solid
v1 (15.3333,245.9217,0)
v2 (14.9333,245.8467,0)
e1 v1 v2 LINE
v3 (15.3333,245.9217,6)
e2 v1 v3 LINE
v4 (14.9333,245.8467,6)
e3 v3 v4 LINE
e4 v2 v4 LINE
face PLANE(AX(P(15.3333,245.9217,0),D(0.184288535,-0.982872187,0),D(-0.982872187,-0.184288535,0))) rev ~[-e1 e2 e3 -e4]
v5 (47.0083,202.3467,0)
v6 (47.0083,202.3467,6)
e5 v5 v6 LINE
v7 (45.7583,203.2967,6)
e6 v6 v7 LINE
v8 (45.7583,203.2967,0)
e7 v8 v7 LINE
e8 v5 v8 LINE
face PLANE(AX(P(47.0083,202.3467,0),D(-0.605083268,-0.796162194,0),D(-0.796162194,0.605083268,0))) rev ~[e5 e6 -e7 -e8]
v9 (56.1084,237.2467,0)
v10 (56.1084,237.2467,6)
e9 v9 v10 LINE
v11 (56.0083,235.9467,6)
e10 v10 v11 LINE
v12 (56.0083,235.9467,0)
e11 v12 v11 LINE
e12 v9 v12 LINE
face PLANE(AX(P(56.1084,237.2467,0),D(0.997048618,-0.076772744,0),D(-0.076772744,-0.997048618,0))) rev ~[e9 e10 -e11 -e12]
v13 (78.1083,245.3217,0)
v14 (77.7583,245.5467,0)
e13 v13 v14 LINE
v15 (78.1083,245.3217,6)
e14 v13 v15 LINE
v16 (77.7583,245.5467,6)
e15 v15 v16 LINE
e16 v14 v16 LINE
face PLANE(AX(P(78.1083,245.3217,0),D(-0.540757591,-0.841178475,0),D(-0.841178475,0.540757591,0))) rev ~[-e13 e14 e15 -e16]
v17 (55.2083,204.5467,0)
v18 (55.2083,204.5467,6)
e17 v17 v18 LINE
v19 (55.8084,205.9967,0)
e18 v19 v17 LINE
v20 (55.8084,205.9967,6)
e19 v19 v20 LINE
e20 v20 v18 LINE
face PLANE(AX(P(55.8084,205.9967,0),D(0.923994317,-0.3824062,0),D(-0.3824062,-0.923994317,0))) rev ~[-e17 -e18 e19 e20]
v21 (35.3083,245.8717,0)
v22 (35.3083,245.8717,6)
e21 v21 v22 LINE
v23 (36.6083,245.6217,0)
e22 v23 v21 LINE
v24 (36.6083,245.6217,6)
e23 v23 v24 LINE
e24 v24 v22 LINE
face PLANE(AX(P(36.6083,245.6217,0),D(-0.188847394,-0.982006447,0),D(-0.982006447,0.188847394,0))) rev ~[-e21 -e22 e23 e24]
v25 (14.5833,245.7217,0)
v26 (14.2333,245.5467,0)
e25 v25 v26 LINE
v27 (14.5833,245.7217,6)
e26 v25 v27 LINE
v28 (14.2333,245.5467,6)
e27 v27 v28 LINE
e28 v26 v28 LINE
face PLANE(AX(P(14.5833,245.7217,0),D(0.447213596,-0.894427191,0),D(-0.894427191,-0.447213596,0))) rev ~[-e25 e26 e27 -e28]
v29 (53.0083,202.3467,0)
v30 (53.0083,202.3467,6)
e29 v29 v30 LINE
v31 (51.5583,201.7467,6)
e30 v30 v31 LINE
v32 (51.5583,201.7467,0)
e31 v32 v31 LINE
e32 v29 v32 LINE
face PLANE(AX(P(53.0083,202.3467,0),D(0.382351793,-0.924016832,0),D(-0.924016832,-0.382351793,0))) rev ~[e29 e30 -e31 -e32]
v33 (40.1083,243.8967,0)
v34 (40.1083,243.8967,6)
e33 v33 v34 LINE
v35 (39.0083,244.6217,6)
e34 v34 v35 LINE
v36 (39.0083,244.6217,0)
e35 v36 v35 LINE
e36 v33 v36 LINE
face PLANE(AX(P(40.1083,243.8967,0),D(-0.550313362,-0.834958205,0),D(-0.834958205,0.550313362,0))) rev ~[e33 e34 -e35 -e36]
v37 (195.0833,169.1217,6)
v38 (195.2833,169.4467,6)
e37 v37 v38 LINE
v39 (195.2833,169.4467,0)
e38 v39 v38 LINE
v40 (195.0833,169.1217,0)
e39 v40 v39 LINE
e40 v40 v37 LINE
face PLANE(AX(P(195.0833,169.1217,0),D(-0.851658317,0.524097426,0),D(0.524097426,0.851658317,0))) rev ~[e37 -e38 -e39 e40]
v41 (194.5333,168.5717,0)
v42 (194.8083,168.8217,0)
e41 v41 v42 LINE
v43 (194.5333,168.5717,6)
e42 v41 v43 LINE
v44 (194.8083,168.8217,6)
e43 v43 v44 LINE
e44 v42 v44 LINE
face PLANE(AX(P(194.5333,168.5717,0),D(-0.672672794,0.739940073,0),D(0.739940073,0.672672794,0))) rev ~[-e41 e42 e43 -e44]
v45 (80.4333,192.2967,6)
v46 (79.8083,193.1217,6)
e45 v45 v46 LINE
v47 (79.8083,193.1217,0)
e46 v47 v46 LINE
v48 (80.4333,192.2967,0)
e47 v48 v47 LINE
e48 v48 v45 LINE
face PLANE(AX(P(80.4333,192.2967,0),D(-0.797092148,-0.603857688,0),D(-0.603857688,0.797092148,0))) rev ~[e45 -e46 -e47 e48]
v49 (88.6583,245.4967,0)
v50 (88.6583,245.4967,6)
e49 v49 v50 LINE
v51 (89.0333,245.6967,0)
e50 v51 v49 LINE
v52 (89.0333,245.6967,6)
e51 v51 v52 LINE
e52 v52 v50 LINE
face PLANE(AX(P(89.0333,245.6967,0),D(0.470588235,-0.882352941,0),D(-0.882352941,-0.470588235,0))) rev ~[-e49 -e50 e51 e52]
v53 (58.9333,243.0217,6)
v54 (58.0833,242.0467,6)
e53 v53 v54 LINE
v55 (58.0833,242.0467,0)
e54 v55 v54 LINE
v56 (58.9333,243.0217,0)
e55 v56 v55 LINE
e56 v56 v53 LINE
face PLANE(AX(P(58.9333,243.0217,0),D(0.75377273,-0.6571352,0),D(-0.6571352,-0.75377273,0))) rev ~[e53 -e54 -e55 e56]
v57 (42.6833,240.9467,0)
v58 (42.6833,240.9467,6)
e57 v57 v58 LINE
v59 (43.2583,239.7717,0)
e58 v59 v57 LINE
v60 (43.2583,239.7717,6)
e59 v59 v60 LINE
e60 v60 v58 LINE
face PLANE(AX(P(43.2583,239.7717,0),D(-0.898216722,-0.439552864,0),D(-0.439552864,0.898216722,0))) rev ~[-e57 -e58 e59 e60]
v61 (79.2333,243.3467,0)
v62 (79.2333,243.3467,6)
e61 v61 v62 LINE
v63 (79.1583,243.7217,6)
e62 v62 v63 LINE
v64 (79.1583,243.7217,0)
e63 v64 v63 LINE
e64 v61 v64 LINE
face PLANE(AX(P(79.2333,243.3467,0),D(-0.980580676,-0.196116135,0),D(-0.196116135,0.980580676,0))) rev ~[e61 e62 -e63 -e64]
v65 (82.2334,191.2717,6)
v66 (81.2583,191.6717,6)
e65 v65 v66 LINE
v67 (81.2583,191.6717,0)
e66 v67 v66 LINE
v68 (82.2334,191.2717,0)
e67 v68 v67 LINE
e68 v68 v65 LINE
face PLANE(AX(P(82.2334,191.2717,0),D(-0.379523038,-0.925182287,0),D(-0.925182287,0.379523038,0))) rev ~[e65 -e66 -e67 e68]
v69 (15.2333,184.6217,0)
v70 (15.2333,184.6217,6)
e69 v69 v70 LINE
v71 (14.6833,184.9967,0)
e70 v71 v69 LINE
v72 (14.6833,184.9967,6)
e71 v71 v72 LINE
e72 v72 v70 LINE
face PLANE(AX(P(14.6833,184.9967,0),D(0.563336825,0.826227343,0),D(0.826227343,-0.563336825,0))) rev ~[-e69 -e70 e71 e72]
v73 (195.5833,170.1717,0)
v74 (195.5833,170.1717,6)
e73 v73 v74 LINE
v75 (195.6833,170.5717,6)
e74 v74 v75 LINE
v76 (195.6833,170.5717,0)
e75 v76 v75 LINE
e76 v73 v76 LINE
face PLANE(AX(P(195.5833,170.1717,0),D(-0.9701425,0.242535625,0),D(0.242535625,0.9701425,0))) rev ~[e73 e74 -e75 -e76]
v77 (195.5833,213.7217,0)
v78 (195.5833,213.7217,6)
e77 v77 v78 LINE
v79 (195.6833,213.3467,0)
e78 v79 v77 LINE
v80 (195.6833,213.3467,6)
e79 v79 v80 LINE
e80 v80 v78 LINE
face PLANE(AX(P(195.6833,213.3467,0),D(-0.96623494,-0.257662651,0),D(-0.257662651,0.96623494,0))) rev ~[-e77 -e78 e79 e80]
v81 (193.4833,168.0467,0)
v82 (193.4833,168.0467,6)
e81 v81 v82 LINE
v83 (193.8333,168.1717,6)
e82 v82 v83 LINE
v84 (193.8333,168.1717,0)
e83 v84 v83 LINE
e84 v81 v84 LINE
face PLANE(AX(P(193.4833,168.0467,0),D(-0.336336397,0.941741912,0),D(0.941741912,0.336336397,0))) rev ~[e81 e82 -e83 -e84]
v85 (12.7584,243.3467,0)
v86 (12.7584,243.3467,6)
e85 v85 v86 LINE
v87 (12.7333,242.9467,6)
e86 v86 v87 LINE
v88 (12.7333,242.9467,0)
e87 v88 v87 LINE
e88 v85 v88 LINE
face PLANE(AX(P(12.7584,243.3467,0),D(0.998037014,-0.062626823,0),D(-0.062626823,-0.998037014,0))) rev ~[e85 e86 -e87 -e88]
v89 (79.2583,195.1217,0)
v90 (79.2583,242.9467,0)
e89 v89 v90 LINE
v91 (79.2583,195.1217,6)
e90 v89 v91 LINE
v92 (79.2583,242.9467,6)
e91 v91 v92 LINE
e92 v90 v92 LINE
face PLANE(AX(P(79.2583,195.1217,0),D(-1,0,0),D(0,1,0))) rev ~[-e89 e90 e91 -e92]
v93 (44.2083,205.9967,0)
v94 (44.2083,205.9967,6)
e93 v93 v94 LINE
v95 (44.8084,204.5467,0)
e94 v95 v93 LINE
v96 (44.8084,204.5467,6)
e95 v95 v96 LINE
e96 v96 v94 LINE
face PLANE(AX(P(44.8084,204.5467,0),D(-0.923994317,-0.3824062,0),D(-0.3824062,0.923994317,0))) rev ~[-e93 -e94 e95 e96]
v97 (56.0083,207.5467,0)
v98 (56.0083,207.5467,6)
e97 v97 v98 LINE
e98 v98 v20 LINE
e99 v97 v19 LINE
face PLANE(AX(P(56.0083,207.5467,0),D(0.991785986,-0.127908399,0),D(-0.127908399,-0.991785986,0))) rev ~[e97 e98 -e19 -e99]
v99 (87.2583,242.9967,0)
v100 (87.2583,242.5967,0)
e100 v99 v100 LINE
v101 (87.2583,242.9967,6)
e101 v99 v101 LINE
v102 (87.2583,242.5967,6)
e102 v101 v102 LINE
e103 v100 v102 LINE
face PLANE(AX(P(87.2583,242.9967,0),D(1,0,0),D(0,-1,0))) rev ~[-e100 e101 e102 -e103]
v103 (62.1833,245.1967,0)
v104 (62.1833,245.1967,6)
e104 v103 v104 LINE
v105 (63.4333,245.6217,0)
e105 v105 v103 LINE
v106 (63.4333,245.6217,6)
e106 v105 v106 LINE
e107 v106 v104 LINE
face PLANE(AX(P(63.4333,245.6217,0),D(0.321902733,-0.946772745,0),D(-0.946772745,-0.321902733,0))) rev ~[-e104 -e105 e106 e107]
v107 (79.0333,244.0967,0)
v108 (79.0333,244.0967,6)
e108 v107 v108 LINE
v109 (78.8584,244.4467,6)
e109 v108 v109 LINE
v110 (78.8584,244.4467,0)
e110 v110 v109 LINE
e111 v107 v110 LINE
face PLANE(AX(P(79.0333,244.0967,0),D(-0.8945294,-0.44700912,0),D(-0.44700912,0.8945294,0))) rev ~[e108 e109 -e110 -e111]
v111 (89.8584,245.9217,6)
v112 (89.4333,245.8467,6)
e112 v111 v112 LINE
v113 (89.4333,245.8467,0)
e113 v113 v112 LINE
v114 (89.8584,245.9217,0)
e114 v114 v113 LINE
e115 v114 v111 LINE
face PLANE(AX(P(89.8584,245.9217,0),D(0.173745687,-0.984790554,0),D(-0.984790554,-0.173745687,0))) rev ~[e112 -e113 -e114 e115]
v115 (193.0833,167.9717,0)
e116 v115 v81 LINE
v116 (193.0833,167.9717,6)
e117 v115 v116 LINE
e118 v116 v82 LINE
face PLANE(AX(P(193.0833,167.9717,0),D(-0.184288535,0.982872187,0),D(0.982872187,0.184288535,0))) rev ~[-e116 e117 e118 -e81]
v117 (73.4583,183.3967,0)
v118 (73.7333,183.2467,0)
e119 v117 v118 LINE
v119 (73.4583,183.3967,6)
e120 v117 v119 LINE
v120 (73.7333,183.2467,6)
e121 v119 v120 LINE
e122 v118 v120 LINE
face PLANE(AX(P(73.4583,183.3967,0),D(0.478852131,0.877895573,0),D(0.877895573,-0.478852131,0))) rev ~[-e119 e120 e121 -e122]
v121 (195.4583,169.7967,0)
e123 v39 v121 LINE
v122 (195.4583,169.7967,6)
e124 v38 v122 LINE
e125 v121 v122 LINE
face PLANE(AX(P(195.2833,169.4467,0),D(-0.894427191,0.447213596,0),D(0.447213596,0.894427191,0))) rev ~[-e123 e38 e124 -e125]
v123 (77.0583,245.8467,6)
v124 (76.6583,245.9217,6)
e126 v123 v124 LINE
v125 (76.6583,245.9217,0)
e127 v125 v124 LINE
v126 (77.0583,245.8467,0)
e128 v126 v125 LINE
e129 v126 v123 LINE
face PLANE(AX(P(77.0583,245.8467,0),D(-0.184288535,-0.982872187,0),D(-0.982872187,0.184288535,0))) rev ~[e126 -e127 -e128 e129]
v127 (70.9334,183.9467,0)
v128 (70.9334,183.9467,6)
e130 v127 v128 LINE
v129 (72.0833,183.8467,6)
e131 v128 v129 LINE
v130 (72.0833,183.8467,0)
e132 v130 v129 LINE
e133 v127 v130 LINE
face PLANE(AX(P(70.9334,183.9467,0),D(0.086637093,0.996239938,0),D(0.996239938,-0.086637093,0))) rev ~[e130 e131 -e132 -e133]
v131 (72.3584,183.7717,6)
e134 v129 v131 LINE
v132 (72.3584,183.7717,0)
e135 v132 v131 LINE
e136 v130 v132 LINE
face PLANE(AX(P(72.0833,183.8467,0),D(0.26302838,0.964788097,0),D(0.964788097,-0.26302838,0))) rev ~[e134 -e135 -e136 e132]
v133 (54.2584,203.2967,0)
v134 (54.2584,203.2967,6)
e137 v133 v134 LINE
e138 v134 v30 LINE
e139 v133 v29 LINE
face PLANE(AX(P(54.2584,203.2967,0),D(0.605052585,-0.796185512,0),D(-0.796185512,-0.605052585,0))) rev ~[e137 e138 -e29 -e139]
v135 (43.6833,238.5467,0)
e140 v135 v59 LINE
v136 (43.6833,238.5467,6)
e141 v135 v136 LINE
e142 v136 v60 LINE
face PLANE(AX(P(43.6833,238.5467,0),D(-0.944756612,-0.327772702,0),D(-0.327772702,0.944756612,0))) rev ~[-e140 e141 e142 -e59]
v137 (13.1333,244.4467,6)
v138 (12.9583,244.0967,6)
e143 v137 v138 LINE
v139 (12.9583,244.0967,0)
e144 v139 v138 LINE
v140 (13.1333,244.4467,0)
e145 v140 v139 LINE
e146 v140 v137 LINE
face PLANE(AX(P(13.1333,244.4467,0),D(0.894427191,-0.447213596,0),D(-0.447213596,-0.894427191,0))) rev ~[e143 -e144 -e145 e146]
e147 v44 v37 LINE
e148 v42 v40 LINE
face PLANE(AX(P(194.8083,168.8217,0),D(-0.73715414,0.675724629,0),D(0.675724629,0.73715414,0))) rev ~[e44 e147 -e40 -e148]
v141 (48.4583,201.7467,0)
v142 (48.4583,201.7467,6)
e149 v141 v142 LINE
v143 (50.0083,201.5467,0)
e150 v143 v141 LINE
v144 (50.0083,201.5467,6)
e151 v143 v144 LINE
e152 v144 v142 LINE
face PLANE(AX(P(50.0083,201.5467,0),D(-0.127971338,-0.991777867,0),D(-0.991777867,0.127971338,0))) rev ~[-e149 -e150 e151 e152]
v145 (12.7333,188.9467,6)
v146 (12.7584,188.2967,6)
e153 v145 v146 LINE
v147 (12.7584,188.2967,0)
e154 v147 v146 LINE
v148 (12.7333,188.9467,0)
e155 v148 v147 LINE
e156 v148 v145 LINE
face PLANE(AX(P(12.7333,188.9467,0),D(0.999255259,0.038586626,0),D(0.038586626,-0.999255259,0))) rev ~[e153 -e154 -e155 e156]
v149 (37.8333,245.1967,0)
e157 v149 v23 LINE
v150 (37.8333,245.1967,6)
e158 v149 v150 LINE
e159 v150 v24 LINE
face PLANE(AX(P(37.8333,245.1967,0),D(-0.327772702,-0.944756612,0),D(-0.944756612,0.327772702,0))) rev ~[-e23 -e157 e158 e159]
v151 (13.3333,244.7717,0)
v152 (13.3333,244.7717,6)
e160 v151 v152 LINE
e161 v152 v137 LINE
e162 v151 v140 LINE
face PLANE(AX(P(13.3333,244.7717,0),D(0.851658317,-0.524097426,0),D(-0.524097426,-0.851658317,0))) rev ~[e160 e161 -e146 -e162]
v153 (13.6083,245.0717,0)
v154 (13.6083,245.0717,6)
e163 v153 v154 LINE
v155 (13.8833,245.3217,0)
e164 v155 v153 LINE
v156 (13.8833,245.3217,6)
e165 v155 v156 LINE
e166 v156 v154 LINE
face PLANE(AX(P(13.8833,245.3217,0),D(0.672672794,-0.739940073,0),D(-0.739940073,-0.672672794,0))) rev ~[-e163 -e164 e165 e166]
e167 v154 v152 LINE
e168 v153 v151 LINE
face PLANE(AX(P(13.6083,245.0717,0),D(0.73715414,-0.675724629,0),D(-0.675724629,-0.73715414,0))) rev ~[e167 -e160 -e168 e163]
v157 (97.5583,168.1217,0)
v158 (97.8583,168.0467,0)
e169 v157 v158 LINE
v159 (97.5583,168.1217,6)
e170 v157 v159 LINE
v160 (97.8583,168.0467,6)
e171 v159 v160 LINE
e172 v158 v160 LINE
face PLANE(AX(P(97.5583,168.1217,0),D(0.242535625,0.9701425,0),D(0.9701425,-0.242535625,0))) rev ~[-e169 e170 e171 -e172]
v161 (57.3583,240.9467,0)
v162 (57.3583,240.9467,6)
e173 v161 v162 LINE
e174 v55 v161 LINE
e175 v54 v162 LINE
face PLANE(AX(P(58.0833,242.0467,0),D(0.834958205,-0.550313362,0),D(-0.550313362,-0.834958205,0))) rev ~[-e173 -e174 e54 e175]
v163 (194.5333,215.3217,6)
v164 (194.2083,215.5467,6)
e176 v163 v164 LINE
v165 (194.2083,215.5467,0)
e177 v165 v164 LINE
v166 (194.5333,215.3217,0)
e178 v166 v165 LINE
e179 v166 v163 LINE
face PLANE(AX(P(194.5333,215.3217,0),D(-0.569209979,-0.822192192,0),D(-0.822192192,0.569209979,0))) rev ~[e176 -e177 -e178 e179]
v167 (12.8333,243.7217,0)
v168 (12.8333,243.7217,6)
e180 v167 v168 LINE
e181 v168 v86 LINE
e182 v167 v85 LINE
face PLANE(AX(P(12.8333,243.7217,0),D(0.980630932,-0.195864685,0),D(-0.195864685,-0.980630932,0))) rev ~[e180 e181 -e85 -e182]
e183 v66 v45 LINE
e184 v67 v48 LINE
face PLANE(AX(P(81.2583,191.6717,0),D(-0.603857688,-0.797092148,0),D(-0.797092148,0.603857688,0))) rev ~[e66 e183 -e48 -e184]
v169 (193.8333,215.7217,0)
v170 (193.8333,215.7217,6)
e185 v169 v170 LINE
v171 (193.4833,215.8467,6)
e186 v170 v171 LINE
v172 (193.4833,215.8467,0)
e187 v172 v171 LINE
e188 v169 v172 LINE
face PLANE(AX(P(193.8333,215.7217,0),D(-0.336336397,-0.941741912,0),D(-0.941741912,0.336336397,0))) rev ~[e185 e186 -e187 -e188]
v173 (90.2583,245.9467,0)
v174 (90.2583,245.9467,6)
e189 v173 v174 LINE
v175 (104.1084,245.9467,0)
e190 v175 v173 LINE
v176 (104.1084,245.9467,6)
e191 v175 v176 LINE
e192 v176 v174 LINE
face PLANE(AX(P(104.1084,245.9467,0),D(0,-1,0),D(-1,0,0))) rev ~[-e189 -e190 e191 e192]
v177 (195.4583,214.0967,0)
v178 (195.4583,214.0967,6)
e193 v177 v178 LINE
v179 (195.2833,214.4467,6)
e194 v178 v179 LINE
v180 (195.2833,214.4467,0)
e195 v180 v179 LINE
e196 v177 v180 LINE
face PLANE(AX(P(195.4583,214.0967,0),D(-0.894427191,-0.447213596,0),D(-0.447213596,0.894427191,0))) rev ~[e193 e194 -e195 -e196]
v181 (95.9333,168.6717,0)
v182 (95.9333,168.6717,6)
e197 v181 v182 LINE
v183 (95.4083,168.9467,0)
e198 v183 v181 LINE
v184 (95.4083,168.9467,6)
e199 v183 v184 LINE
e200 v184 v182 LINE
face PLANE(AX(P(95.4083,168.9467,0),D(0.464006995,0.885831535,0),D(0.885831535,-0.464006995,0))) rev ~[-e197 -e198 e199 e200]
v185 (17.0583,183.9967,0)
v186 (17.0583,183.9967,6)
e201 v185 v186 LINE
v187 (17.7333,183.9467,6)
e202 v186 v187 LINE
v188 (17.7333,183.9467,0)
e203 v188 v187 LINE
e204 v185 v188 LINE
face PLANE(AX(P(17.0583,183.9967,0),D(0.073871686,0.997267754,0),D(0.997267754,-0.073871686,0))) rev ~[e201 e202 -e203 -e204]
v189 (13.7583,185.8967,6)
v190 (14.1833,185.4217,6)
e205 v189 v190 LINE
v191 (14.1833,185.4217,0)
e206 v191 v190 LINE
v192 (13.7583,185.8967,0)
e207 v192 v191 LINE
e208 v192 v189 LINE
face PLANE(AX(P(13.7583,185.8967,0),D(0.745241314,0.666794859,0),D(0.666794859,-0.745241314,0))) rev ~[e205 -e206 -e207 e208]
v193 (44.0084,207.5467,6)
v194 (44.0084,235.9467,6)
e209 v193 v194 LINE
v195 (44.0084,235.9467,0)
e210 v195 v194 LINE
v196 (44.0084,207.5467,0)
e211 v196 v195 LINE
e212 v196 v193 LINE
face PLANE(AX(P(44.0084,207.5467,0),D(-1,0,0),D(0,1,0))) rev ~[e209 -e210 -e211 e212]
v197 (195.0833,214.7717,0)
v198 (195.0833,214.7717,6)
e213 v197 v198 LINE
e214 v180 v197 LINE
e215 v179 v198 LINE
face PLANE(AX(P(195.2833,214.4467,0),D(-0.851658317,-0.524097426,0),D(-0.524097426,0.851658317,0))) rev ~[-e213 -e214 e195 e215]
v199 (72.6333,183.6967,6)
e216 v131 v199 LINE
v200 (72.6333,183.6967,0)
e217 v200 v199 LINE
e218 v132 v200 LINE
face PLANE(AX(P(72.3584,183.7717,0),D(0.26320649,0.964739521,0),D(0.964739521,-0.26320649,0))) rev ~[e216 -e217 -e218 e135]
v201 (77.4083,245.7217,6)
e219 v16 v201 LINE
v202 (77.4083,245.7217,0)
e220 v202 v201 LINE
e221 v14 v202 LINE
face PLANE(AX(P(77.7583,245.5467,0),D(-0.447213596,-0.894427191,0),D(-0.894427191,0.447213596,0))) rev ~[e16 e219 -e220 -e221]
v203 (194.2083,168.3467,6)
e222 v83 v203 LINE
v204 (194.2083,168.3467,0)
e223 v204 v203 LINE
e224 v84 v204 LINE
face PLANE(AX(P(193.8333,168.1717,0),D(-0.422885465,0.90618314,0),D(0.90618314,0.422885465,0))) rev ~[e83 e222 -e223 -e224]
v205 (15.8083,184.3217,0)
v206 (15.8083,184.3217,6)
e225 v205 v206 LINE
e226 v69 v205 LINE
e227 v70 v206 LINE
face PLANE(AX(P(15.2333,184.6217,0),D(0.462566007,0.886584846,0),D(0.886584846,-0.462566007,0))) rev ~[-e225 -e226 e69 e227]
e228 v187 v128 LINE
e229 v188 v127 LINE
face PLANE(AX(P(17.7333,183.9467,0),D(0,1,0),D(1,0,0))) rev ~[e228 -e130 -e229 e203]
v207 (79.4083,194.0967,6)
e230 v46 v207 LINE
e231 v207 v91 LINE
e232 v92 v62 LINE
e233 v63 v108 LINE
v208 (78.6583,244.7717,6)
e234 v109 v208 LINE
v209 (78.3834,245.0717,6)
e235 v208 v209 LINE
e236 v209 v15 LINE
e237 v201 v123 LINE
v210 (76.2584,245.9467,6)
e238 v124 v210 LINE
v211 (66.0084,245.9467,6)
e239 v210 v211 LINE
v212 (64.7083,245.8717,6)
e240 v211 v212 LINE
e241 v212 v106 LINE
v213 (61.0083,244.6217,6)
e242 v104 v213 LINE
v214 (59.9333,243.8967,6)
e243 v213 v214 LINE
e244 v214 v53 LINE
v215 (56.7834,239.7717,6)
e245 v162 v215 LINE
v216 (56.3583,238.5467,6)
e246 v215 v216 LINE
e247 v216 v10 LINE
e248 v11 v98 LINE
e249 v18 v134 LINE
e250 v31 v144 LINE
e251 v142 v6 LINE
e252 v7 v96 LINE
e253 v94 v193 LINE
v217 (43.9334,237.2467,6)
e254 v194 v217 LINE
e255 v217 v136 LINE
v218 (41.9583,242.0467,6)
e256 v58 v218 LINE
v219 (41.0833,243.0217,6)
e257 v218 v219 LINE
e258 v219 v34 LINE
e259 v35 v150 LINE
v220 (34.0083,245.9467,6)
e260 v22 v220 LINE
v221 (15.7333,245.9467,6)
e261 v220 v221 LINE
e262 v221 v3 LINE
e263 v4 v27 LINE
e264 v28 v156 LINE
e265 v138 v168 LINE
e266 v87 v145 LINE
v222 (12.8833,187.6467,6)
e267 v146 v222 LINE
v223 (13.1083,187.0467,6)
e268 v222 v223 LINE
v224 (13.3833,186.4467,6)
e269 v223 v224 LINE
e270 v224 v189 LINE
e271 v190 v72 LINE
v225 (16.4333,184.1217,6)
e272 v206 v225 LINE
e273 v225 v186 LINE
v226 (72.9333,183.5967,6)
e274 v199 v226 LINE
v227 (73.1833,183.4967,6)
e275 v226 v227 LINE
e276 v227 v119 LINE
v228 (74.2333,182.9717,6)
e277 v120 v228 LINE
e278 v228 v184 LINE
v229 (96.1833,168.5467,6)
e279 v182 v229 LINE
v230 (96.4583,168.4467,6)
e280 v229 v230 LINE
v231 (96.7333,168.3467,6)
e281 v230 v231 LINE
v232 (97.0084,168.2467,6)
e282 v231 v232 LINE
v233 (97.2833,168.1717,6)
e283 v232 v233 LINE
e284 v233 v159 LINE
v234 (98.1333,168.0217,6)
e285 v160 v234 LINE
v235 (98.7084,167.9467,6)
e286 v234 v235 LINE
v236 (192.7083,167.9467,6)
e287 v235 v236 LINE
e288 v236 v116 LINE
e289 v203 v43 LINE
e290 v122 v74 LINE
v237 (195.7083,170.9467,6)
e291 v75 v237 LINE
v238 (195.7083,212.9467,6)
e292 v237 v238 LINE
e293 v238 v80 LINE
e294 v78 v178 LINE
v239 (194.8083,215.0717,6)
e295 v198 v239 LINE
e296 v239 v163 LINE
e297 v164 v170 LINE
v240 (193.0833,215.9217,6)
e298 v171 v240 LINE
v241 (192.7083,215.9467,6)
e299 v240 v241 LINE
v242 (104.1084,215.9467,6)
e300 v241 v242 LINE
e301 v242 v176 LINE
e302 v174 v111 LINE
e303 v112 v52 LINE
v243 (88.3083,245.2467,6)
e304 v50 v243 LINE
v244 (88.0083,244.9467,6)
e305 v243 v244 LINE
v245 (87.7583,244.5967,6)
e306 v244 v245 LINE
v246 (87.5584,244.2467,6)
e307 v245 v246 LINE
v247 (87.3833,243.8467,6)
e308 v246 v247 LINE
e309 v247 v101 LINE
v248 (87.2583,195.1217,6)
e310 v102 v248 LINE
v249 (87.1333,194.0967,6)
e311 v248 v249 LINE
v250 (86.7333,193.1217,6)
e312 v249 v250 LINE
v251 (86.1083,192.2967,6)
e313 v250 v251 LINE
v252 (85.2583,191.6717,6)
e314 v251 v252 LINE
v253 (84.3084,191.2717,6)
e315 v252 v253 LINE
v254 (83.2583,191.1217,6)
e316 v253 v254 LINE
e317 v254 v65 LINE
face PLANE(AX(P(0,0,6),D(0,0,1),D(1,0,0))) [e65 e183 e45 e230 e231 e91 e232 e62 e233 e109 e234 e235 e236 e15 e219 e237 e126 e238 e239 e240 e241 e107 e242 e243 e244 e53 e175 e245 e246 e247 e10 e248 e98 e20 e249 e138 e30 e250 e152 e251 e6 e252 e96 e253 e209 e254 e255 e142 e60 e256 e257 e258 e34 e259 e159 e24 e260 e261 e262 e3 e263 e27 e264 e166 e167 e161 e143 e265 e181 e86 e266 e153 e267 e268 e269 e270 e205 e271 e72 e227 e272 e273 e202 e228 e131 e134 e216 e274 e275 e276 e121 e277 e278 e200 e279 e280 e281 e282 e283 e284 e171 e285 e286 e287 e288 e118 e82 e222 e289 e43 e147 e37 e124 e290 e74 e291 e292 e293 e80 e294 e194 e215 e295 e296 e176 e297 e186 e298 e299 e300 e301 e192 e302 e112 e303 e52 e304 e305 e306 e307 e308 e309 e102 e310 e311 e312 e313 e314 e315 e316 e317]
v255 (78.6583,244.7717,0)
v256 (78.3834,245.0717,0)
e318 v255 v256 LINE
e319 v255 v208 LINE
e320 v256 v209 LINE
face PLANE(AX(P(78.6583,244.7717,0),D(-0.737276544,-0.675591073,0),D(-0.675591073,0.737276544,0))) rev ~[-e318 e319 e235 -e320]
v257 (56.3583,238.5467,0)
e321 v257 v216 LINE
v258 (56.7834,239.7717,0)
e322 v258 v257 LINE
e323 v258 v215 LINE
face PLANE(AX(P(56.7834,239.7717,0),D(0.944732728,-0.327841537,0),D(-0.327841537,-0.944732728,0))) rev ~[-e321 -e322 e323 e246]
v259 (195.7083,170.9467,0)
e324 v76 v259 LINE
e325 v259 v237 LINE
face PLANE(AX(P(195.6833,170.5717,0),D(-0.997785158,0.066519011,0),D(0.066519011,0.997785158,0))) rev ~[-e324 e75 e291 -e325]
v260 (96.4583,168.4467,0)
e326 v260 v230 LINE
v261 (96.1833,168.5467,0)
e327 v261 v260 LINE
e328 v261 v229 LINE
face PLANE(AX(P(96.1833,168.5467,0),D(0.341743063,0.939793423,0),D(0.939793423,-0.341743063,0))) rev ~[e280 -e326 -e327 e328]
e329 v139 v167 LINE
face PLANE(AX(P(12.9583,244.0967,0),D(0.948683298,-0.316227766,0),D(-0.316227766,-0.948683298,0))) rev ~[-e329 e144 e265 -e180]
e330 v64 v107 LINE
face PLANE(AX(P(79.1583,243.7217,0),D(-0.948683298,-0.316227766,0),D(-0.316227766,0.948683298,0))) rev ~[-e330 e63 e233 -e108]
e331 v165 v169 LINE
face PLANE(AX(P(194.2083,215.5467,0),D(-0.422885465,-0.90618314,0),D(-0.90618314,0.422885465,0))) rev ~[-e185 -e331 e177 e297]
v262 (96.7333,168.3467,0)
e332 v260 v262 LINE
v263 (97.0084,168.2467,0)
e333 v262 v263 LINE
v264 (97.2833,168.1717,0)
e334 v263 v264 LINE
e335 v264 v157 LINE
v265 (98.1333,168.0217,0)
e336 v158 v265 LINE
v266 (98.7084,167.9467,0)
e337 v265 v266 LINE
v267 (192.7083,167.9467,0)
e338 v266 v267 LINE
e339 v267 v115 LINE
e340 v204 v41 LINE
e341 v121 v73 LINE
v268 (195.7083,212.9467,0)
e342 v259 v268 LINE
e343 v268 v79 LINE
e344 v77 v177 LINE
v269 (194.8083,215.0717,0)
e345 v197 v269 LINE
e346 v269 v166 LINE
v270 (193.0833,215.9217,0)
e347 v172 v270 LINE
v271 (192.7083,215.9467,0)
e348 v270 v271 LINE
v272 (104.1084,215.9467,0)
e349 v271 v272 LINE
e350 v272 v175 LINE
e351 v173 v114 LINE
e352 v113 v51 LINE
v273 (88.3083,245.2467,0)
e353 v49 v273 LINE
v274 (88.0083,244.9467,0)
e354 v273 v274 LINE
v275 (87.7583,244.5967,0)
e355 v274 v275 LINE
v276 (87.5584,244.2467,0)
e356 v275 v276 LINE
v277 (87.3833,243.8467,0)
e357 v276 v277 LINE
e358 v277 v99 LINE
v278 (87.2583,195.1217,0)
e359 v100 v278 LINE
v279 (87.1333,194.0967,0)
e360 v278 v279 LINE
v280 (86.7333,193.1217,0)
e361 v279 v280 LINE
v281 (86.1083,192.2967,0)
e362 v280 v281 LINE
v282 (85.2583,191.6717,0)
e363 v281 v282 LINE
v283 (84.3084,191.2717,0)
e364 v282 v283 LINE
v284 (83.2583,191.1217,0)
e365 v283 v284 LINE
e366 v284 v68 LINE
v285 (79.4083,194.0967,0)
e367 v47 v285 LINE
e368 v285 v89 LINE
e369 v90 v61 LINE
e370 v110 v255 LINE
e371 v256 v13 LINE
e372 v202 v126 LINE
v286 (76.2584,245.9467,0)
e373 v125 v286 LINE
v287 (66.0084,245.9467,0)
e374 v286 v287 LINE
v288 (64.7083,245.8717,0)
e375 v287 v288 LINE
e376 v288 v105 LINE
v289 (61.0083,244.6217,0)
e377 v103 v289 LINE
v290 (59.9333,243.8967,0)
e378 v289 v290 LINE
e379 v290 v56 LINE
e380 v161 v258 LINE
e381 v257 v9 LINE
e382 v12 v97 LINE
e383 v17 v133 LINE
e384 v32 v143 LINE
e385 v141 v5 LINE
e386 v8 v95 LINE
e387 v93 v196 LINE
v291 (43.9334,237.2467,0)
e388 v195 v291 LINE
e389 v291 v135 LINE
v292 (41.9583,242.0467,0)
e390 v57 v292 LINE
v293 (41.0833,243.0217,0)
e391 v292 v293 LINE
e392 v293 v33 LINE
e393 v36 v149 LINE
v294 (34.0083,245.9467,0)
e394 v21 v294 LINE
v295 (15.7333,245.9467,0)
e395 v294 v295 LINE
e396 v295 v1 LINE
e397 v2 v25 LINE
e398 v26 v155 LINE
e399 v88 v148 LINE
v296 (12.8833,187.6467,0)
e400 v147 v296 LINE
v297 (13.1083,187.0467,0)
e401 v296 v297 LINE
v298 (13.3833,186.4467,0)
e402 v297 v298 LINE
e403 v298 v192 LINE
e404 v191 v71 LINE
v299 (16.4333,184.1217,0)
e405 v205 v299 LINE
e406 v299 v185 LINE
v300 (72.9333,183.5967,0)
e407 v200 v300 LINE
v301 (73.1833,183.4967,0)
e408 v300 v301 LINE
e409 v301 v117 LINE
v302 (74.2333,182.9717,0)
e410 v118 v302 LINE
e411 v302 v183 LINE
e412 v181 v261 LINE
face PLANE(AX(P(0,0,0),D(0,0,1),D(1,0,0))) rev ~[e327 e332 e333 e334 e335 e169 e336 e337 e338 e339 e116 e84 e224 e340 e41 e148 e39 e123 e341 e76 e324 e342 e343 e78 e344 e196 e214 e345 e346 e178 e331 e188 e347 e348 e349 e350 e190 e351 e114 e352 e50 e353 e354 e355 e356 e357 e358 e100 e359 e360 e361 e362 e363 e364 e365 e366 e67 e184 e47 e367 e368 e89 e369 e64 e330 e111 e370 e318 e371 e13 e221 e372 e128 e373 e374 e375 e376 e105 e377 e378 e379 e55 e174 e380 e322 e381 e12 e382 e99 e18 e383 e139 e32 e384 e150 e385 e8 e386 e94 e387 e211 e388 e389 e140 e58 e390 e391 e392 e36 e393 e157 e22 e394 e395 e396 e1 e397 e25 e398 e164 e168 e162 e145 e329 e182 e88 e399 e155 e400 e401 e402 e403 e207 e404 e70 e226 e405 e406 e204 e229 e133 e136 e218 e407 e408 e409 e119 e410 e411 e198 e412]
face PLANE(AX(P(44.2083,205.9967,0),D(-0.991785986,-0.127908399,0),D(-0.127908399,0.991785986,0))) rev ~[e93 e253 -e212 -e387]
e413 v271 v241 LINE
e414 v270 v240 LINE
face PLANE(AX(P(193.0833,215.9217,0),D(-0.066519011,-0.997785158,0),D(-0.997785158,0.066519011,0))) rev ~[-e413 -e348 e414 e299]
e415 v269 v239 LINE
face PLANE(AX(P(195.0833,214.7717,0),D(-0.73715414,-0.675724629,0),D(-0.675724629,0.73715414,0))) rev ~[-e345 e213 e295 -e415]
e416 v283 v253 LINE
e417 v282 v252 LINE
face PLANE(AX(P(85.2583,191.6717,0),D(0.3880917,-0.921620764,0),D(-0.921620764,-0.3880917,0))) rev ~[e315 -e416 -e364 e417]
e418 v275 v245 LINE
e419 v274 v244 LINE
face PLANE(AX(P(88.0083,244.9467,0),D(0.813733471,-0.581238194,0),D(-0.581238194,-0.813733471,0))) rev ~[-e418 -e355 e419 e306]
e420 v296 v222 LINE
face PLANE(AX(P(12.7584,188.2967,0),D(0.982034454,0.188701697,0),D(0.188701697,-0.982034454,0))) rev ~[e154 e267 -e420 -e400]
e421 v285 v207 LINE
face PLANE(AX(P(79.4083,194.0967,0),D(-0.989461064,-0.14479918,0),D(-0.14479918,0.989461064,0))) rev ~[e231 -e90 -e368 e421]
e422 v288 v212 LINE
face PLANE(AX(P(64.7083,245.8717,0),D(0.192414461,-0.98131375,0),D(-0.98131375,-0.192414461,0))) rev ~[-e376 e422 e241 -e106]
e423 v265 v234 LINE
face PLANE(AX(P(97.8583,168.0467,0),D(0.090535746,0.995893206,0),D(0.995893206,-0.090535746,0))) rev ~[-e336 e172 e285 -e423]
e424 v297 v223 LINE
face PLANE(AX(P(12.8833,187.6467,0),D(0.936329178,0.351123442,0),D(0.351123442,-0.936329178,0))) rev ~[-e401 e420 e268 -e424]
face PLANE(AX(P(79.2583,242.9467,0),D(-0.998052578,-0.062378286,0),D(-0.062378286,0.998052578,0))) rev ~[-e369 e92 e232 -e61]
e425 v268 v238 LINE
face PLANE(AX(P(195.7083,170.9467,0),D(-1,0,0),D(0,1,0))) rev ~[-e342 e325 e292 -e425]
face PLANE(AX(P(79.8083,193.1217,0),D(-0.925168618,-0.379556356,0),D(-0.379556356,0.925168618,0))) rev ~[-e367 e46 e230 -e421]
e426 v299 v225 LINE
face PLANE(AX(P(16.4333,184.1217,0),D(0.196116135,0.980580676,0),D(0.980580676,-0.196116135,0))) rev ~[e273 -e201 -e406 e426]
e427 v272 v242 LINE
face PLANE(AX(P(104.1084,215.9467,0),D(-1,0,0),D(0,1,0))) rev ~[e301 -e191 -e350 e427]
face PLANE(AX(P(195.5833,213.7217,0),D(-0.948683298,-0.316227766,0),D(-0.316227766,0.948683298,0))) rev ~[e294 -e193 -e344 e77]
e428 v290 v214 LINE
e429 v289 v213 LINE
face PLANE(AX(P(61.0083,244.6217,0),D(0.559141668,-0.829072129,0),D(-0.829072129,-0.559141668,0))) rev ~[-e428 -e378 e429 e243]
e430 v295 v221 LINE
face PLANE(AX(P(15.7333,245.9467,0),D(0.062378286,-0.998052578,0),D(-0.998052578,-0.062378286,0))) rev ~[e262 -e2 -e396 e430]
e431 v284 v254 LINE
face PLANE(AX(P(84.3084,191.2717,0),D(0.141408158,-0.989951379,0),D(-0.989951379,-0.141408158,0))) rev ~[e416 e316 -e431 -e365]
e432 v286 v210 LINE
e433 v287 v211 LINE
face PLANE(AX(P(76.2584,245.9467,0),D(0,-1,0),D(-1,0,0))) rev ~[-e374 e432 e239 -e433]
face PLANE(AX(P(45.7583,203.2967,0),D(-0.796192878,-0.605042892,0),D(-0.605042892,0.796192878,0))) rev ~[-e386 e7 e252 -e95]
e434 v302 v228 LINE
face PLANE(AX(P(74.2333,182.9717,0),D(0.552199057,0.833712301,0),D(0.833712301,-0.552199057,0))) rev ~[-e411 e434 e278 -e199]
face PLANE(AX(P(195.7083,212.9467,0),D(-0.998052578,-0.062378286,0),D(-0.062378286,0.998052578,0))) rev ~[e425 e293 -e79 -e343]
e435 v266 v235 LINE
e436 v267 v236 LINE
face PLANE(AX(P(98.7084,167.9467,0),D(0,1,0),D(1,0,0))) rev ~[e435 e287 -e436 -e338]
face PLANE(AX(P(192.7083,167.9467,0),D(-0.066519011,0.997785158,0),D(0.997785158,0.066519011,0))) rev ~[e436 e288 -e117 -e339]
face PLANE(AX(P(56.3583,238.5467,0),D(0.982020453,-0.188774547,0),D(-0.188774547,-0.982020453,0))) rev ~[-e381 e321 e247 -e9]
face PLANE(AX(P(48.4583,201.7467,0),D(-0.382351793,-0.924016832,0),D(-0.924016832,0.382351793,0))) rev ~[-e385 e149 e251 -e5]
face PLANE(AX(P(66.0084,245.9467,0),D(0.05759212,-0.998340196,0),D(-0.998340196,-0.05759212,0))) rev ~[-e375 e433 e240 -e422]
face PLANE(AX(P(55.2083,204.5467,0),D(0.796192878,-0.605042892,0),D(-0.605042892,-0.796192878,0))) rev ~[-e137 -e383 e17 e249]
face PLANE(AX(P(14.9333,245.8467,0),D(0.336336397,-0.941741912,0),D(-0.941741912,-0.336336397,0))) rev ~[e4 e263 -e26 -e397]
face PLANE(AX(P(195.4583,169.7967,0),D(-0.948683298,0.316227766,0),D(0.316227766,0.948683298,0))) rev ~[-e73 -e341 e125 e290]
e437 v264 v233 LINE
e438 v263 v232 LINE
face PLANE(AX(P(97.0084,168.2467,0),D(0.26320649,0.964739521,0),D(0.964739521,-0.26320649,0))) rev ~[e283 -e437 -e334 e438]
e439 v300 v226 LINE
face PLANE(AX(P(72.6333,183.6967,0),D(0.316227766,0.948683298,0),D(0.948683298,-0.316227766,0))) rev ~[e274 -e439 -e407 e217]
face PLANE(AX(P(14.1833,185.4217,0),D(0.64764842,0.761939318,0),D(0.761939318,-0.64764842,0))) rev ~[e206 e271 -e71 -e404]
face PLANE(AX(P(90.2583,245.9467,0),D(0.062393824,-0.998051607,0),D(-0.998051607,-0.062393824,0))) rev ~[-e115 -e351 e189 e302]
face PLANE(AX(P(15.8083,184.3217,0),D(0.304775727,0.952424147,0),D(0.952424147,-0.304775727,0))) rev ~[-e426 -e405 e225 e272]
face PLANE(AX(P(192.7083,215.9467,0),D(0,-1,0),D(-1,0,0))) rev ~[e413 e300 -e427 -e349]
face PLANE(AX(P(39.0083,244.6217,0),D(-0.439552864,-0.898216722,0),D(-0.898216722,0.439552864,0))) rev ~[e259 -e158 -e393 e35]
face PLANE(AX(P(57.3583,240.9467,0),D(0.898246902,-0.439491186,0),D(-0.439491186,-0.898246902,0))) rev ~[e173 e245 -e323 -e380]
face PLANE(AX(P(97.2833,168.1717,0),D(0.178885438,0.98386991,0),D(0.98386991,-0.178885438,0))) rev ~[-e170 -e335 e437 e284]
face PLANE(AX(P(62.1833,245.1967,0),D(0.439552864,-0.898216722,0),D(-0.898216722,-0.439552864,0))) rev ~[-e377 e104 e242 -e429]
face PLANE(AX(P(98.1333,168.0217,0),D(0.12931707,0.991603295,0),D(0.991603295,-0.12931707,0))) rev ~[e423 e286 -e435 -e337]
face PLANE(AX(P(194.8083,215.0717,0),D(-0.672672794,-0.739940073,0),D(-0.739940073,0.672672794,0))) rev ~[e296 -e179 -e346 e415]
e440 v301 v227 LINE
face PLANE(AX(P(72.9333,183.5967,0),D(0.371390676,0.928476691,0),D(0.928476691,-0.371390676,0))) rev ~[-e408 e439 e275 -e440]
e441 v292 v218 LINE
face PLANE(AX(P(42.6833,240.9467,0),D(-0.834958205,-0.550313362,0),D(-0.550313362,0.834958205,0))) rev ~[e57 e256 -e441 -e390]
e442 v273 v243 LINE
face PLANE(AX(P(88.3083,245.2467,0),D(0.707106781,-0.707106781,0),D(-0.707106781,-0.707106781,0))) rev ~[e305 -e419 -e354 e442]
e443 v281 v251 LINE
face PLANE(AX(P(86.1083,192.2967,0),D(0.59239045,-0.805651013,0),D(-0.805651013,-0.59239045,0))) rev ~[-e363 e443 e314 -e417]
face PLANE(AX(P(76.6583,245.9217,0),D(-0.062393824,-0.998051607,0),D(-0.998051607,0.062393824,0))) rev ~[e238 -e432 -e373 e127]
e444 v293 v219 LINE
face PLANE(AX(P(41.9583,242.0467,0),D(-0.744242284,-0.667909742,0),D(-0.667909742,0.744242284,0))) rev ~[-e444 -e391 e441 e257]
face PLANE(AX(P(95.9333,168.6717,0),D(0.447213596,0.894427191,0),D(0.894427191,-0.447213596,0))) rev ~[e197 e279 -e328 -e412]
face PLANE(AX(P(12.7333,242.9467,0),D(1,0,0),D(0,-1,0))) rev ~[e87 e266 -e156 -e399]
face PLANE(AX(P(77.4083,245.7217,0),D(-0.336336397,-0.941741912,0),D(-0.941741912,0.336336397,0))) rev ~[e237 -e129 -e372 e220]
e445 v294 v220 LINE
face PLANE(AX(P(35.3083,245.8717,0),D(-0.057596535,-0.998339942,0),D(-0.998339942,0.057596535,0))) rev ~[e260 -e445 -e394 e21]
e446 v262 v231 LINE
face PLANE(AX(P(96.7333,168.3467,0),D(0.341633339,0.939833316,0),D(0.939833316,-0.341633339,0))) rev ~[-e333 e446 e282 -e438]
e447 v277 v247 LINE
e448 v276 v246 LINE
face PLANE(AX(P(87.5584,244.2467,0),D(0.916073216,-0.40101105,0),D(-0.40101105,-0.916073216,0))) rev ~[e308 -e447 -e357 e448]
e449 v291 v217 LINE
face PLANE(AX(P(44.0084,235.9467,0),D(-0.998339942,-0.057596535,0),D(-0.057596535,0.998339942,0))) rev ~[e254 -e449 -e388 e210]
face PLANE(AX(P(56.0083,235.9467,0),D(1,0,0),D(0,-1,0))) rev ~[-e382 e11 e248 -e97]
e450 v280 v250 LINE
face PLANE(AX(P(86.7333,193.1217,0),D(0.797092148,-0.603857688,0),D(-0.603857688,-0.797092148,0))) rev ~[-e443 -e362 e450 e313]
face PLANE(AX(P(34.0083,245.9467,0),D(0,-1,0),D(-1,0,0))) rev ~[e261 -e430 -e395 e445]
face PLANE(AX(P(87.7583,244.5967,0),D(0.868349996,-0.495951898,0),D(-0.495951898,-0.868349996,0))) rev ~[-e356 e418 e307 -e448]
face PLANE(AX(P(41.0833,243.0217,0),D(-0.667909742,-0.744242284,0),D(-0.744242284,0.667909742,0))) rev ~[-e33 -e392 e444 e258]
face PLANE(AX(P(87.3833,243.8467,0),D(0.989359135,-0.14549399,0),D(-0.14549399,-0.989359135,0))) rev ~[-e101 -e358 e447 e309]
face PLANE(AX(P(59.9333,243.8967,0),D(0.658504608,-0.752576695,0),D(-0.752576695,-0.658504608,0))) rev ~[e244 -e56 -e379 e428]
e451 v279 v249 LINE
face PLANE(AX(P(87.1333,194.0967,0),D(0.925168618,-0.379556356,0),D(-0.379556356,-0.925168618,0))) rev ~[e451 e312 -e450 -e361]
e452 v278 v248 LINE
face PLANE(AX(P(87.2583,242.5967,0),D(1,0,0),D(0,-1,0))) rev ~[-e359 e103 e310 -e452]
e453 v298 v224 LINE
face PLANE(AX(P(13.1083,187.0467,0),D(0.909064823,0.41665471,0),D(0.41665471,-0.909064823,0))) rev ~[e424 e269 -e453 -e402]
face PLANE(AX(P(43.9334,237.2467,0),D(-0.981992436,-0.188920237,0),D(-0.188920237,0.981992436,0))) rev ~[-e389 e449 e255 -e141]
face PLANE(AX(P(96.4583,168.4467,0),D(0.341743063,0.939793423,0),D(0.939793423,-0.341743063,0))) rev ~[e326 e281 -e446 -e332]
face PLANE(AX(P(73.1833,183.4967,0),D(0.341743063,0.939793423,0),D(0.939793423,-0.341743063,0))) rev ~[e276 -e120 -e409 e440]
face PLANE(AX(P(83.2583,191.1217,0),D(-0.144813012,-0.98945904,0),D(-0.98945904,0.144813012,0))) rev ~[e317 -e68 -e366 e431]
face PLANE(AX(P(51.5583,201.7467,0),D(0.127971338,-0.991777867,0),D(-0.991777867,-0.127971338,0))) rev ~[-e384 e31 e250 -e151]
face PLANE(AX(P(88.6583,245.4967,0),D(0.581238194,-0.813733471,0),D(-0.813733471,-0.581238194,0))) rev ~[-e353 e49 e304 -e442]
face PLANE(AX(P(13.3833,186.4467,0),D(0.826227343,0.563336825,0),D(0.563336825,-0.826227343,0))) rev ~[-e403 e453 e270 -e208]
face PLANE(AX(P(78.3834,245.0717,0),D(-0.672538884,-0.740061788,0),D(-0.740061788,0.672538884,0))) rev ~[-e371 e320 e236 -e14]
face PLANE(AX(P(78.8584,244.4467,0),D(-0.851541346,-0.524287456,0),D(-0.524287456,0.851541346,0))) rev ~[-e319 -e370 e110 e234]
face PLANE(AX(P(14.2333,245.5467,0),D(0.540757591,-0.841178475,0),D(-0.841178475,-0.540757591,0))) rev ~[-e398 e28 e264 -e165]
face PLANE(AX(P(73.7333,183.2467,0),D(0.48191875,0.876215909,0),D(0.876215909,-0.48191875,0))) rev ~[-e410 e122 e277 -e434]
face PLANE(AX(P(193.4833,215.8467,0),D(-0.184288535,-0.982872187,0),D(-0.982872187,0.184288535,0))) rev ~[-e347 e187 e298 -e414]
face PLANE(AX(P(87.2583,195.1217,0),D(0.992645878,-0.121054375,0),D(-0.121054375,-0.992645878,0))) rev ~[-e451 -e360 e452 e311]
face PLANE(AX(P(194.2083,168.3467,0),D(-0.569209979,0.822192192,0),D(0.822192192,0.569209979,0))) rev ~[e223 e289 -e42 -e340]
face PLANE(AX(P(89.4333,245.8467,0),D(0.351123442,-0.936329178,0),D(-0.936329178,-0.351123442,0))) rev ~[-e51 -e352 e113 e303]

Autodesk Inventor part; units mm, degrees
ref_plane "YZ Plane" through (0, 0, 0) normal (1, 0, 0) x (0, 1, 0)
ref_plane "XZ Plane" through (0, 0, 0) normal (0, 1, 0) x (-1, 0, 0)
ref_plane "XY Plane" through (0, 0, 0) normal (0, 0, 1) x (1, 0, 0)
sketch "Sketch1" plane through (0, 0, 0) normal (0, 0, 1) x (1, 0, 0)
  line L0 (195.6833, 213.3467) -> (195.5833, 213.7217)
  line L1 (195.5833, 213.7217) -> (195.4583, 214.0967)
  line L2 (195.4583, 214.0967) -> (195.2833, 214.4467)
  line L3 (195.2833, 214.4467) -> (195.0833, 214.7717)
  line L4 (195.0833, 214.7717) -> (194.8083, 215.0717)
  line L5 (194.8083, 215.0717) -> (194.5333, 215.3217)
  line L6 (194.5333, 215.3217) -> (194.2083, 215.5467)
  line L7 (194.2083, 215.5467) -> (193.8333, 215.7217)
  line L8 (193.8333, 215.7217) -> (193.4833, 215.8467)
  line L9 (193.4833, 215.8467) -> (193.0833, 215.9217)
  line L10 (193.0833, 215.9217) -> (192.7083, 215.9467)
  line L11 (192.7083, 215.9467) -> (104.1084, 215.9467)
  line L12 (104.1084, 215.9467) -> (104.1084, 245.9467)
  line L13 (104.1084, 245.9467) -> (90.2583, 245.9467)
  line L14 (90.2583, 245.9467) -> (89.8584, 245.9217)
  line L15 (89.8584, 245.9217) -> (89.4333, 245.8467)
  line L16 (89.4333, 245.8467) -> (89.0333, 245.6967)
  line L17 (89.0333, 245.6967) -> (88.6583, 245.4967)
  line L18 (88.6583, 245.4967) -> (88.3083, 245.2467)
  line L19 (88.3083, 245.2467) -> (88.0083, 244.9467)
  line L20 (88.0083, 244.9467) -> (87.7583, 244.5967)
  line L21 (87.7583, 244.5967) -> (87.5584, 244.2467)
  line L22 (87.5584, 244.2467) -> (87.3833, 243.8467)
  line L23 (87.3833, 243.8467) -> (87.2583, 242.9967)
  line L24 (87.2583, 242.9967) -> (87.2583, 242.5967)
  line L25 (87.2583, 242.5967) -> (87.2583, 195.1217)
  line L26 (87.2583, 195.1217) -> (87.1333, 194.0967)
  line L27 (87.1333, 194.0967) -> (86.7333, 193.1217)
  line L28 (86.7333, 193.1217) -> (86.1083, 192.2967)
  line L29 (86.1083, 192.2967) -> (85.2583, 191.6717)
  line L30 (85.2583, 191.6717) -> (84.3084, 191.2717)
  line L31 (84.3084, 191.2717) -> (83.2583, 191.1217)
  line L32 (83.2583, 191.1217) -> (82.2334, 191.2717)
  line L33 (82.2334, 191.2717) -> (81.2583, 191.6717)
  line L34 (81.2583, 191.6717) -> (80.4333, 192.2967)
  line L35 (80.4333, 192.2967) -> (79.8083, 193.1217)
  line L36 (79.8083, 193.1217) -> (79.4083, 194.0967)
  line L37 (79.4083, 194.0967) -> (79.2583, 195.1217)
  line L38 (79.2583, 195.1217) -> (79.2583, 242.9467)
  line L39 (79.2583, 242.9467) -> (79.2333, 243.3467)
  line L40 (79.2333, 243.3467) -> (79.1583, 243.7217)
  line L41 (79.1583, 243.7217) -> (79.0333, 244.0967)
  line L42 (79.0333, 244.0967) -> (78.8584, 244.4467)
  line L43 (78.8584, 244.4467) -> (78.6583, 244.7717)
  line L44 (78.6583, 244.7717) -> (78.3834, 245.0717)
  line L45 (78.3834, 245.0717) -> (78.1083, 245.3217)
  line L46 (78.1083, 245.3217) -> (77.7583, 245.5467)
  line L47 (77.7583, 245.5467) -> (77.4083, 245.7217)
  line L48 (77.4083, 245.7217) -> (77.0583, 245.8467)
  line L49 (77.0583, 245.8467) -> (76.6583, 245.9217)
  line L50 (76.6583, 245.9217) -> (76.2584, 245.9467)
  line L51 (76.2584, 245.9467) -> (66.0084, 245.9467)
  line L52 (66.0084, 245.9467) -> (64.7083, 245.8717)
  line L53 (64.7083, 245.8717) -> (63.4333, 245.6217)
  line L54 (63.4333, 245.6217) -> (62.1833, 245.1967)
  line L55 (62.1833, 245.1967) -> (61.0083, 244.6217)
  line L56 (61.0083, 244.6217) -> (59.9333, 243.8967)
  line L57 (59.9333, 243.8967) -> (58.9333, 243.0217)
  line L58 (58.9333, 243.0217) -> (58.0833, 242.0467)
  line L59 (58.0833, 242.0467) -> (57.3583, 240.9467)
  line L60 (57.3583, 240.9467) -> (56.7834, 239.7717)
  line L61 (56.7834, 239.7717) -> (56.3583, 238.5467)
  line L62 (56.3583, 238.5467) -> (56.1084, 237.2467)
  line L63 (56.1084, 237.2467) -> (56.0083, 235.9467)
  line L64 (56.0083, 235.9467) -> (56.0083, 207.5467)
  line L65 (56.0083, 207.5467) -> (55.8084, 205.9967)
  line L66 (55.8084, 205.9967) -> (55.2083, 204.5467)
  line L67 (55.2083, 204.5467) -> (54.2584, 203.2967)
  line L68 (54.2584, 203.2967) -> (53.0083, 202.3467)
  line L69 (53.0083, 202.3467) -> (51.5583, 201.7467)
  line L70 (51.5583, 201.7467) -> (50.0083, 201.5467)
  line L71 (50.0083, 201.5467) -> (48.4583, 201.7467)
  line L72 (48.4583, 201.7467) -> (47.0083, 202.3467)
  line L73 (47.0083, 202.3467) -> (45.7583, 203.2967)
  line L74 (45.7583, 203.2967) -> (44.8084, 204.5467)
  line L75 (44.8084, 204.5467) -> (44.2083, 205.9967)
  line L76 (44.2083, 205.9967) -> (44.0084, 207.5467)
  line L77 (44.0084, 207.5467) -> (44.0084, 235.9467)
  line L78 (44.0084, 235.9467) -> (43.9334, 237.2467)
  line L79 (43.9334, 237.2467) -> (43.6833, 238.5467)
  line L80 (43.6833, 238.5467) -> (43.2583, 239.7717)
  line L81 (43.2583, 239.7717) -> (42.6833, 240.9467)
  line L82 (42.6833, 240.9467) -> (41.9583, 242.0467)
  line L83 (41.9583, 242.0467) -> (41.0833, 243.0217)
  line L84 (41.0833, 243.0217) -> (40.1083, 243.8967)
  line L85 (40.1083, 243.8967) -> (39.0083, 244.6217)
  line L86 (39.0083, 244.6217) -> (37.8333, 245.1967)
  line L87 (37.8333, 245.1967) -> (36.6083, 245.6217)
  line L88 (36.6083, 245.6217) -> (35.3083, 245.8717)
  line L89 (35.3083, 245.8717) -> (34.0083, 245.9467)
  line L90 (34.0083, 245.9467) -> (15.7333, 245.9467)
  line L91 (15.7333, 245.9467) -> (15.3333, 245.9217)
  line L92 (15.3333, 245.9217) -> (14.9333, 245.8467)
  line L93 (14.9333, 245.8467) -> (14.5833, 245.7217)
  line L94 (14.5833, 245.7217) -> (14.2333, 245.5467)
  line L95 (14.2333, 245.5467) -> (13.8833, 245.3217)
  line L96 (13.8833, 245.3217) -> (13.6083, 245.0717)
  line L97 (13.6083, 245.0717) -> (13.3333, 244.7717)
  line L98 (13.3333, 244.7717) -> (13.1333, 244.4467)
  line L99 (13.1333, 244.4467) -> (12.9583, 244.0967)
  line L100 (12.9583, 244.0967) -> (12.8333, 243.7217)
  line L101 (12.8333, 243.7217) -> (12.7584, 243.3467)
  line L102 (12.7584, 243.3467) -> (12.7333, 242.9467)
  line L103 (12.7333, 242.9467) -> (12.7333, 188.9467)
  line L104 (12.7333, 188.9467) -> (12.7584, 188.2967)
  line L105 (12.7584, 188.2967) -> (12.8833, 187.6467)
  line L106 (12.8833, 187.6467) -> (13.1083, 187.0467)
  line L107 (13.1083, 187.0467) -> (13.3833, 186.4467)
  line L108 (13.3833, 186.4467) -> (13.7583, 185.8967)
  line L109 (13.7583, 185.8967) -> (14.1833, 185.4217)
  line L110 (14.1833, 185.4217) -> (14.6833, 184.9967)
  line L111 (14.6833, 184.9967) -> (15.2333, 184.6217)
  line L112 (15.2333, 184.6217) -> (15.8083, 184.3217)
  line L113 (15.8083, 184.3217) -> (16.4333, 184.1217)
  line L114 (16.4333, 184.1217) -> (17.0583, 183.9967)
  line L115 (17.0583, 183.9967) -> (17.7333, 183.9467)
  line L116 (17.7333, 183.9467) -> (70.9334, 183.9467)
  line L117 (70.9334, 183.9467) -> (72.0833, 183.8467)
  line L118 (72.0833, 183.8467) -> (72.3584, 183.7717)
  line L119 (72.3584, 183.7717) -> (72.6333, 183.6967)
  line L120 (72.6333, 183.6967) -> (72.9333, 183.5967)
  line L121 (72.9333, 183.5967) -> (73.1833, 183.4967)
  line L122 (73.1833, 183.4967) -> (73.4583, 183.3967)
  line L123 (73.4583, 183.3967) -> (73.7333, 183.2467)
  line L124 (73.7333, 183.2467) -> (74.2333, 182.9717)
  line L125 (74.2333, 182.9717) -> (95.4083, 168.9467)
  line L126 (95.4083, 168.9467) -> (95.9333, 168.6717)
  line L127 (95.9333, 168.6717) -> (96.1833, 168.5467)
  line L128 (96.1833, 168.5467) -> (96.4583, 168.4467)
  line L129 (96.4583, 168.4467) -> (96.7333, 168.3467)
  line L130 (96.7333, 168.3467) -> (97.0084, 168.2467)
  line L131 (97.0084, 168.2467) -> (97.2833, 168.1717)
  line L132 (97.2833, 168.1717) -> (97.5583, 168.1217)
  line L133 (97.5583, 168.1217) -> (97.8583, 168.0467)
  line L134 (97.8583, 168.0467) -> (98.1333, 168.0217)
  line L135 (98.1333, 168.0217) -> (98.7084, 167.9467)
  line L136 (98.7084, 167.9467) -> (192.7083, 167.9467)
  line L137 (192.7083, 167.9467) -> (193.0833, 167.9717)
  line L138 (193.0833, 167.9717) -> (193.4833, 168.0467)
  line L139 (193.4833, 168.0467) -> (193.8333, 168.1717)
  line L140 (193.8333, 168.1717) -> (194.2083, 168.3467)
  line L141 (194.2083, 168.3467) -> (194.5333, 168.5717)
  line L142 (194.5333, 168.5717) -> (194.8083, 168.8217)
  line L143 (194.8083, 168.8217) -> (195.0833, 169.1217)
  line L144 (195.0833, 169.1217) -> (195.2833, 169.4467)
  line L145 (195.2833, 169.4467) -> (195.4583, 169.7967)
  line L146 (195.4583, 169.7967) -> (195.5833, 170.1717)
  line L147 (195.5833, 170.1717) -> (195.6833, 170.5717)
  line L148 (195.6833, 170.5717) -> (195.7083, 170.9467)
  line L149 (195.7083, 170.9467) -> (195.7083, 212.9467)
  line L150 (195.7083, 212.9467) -> (195.6833, 213.3467)
  point P0 (0, 0)
extrude "Extrusion1" add sketch "Sketch1" along normal blind 6
properties part number "handyDandy"
